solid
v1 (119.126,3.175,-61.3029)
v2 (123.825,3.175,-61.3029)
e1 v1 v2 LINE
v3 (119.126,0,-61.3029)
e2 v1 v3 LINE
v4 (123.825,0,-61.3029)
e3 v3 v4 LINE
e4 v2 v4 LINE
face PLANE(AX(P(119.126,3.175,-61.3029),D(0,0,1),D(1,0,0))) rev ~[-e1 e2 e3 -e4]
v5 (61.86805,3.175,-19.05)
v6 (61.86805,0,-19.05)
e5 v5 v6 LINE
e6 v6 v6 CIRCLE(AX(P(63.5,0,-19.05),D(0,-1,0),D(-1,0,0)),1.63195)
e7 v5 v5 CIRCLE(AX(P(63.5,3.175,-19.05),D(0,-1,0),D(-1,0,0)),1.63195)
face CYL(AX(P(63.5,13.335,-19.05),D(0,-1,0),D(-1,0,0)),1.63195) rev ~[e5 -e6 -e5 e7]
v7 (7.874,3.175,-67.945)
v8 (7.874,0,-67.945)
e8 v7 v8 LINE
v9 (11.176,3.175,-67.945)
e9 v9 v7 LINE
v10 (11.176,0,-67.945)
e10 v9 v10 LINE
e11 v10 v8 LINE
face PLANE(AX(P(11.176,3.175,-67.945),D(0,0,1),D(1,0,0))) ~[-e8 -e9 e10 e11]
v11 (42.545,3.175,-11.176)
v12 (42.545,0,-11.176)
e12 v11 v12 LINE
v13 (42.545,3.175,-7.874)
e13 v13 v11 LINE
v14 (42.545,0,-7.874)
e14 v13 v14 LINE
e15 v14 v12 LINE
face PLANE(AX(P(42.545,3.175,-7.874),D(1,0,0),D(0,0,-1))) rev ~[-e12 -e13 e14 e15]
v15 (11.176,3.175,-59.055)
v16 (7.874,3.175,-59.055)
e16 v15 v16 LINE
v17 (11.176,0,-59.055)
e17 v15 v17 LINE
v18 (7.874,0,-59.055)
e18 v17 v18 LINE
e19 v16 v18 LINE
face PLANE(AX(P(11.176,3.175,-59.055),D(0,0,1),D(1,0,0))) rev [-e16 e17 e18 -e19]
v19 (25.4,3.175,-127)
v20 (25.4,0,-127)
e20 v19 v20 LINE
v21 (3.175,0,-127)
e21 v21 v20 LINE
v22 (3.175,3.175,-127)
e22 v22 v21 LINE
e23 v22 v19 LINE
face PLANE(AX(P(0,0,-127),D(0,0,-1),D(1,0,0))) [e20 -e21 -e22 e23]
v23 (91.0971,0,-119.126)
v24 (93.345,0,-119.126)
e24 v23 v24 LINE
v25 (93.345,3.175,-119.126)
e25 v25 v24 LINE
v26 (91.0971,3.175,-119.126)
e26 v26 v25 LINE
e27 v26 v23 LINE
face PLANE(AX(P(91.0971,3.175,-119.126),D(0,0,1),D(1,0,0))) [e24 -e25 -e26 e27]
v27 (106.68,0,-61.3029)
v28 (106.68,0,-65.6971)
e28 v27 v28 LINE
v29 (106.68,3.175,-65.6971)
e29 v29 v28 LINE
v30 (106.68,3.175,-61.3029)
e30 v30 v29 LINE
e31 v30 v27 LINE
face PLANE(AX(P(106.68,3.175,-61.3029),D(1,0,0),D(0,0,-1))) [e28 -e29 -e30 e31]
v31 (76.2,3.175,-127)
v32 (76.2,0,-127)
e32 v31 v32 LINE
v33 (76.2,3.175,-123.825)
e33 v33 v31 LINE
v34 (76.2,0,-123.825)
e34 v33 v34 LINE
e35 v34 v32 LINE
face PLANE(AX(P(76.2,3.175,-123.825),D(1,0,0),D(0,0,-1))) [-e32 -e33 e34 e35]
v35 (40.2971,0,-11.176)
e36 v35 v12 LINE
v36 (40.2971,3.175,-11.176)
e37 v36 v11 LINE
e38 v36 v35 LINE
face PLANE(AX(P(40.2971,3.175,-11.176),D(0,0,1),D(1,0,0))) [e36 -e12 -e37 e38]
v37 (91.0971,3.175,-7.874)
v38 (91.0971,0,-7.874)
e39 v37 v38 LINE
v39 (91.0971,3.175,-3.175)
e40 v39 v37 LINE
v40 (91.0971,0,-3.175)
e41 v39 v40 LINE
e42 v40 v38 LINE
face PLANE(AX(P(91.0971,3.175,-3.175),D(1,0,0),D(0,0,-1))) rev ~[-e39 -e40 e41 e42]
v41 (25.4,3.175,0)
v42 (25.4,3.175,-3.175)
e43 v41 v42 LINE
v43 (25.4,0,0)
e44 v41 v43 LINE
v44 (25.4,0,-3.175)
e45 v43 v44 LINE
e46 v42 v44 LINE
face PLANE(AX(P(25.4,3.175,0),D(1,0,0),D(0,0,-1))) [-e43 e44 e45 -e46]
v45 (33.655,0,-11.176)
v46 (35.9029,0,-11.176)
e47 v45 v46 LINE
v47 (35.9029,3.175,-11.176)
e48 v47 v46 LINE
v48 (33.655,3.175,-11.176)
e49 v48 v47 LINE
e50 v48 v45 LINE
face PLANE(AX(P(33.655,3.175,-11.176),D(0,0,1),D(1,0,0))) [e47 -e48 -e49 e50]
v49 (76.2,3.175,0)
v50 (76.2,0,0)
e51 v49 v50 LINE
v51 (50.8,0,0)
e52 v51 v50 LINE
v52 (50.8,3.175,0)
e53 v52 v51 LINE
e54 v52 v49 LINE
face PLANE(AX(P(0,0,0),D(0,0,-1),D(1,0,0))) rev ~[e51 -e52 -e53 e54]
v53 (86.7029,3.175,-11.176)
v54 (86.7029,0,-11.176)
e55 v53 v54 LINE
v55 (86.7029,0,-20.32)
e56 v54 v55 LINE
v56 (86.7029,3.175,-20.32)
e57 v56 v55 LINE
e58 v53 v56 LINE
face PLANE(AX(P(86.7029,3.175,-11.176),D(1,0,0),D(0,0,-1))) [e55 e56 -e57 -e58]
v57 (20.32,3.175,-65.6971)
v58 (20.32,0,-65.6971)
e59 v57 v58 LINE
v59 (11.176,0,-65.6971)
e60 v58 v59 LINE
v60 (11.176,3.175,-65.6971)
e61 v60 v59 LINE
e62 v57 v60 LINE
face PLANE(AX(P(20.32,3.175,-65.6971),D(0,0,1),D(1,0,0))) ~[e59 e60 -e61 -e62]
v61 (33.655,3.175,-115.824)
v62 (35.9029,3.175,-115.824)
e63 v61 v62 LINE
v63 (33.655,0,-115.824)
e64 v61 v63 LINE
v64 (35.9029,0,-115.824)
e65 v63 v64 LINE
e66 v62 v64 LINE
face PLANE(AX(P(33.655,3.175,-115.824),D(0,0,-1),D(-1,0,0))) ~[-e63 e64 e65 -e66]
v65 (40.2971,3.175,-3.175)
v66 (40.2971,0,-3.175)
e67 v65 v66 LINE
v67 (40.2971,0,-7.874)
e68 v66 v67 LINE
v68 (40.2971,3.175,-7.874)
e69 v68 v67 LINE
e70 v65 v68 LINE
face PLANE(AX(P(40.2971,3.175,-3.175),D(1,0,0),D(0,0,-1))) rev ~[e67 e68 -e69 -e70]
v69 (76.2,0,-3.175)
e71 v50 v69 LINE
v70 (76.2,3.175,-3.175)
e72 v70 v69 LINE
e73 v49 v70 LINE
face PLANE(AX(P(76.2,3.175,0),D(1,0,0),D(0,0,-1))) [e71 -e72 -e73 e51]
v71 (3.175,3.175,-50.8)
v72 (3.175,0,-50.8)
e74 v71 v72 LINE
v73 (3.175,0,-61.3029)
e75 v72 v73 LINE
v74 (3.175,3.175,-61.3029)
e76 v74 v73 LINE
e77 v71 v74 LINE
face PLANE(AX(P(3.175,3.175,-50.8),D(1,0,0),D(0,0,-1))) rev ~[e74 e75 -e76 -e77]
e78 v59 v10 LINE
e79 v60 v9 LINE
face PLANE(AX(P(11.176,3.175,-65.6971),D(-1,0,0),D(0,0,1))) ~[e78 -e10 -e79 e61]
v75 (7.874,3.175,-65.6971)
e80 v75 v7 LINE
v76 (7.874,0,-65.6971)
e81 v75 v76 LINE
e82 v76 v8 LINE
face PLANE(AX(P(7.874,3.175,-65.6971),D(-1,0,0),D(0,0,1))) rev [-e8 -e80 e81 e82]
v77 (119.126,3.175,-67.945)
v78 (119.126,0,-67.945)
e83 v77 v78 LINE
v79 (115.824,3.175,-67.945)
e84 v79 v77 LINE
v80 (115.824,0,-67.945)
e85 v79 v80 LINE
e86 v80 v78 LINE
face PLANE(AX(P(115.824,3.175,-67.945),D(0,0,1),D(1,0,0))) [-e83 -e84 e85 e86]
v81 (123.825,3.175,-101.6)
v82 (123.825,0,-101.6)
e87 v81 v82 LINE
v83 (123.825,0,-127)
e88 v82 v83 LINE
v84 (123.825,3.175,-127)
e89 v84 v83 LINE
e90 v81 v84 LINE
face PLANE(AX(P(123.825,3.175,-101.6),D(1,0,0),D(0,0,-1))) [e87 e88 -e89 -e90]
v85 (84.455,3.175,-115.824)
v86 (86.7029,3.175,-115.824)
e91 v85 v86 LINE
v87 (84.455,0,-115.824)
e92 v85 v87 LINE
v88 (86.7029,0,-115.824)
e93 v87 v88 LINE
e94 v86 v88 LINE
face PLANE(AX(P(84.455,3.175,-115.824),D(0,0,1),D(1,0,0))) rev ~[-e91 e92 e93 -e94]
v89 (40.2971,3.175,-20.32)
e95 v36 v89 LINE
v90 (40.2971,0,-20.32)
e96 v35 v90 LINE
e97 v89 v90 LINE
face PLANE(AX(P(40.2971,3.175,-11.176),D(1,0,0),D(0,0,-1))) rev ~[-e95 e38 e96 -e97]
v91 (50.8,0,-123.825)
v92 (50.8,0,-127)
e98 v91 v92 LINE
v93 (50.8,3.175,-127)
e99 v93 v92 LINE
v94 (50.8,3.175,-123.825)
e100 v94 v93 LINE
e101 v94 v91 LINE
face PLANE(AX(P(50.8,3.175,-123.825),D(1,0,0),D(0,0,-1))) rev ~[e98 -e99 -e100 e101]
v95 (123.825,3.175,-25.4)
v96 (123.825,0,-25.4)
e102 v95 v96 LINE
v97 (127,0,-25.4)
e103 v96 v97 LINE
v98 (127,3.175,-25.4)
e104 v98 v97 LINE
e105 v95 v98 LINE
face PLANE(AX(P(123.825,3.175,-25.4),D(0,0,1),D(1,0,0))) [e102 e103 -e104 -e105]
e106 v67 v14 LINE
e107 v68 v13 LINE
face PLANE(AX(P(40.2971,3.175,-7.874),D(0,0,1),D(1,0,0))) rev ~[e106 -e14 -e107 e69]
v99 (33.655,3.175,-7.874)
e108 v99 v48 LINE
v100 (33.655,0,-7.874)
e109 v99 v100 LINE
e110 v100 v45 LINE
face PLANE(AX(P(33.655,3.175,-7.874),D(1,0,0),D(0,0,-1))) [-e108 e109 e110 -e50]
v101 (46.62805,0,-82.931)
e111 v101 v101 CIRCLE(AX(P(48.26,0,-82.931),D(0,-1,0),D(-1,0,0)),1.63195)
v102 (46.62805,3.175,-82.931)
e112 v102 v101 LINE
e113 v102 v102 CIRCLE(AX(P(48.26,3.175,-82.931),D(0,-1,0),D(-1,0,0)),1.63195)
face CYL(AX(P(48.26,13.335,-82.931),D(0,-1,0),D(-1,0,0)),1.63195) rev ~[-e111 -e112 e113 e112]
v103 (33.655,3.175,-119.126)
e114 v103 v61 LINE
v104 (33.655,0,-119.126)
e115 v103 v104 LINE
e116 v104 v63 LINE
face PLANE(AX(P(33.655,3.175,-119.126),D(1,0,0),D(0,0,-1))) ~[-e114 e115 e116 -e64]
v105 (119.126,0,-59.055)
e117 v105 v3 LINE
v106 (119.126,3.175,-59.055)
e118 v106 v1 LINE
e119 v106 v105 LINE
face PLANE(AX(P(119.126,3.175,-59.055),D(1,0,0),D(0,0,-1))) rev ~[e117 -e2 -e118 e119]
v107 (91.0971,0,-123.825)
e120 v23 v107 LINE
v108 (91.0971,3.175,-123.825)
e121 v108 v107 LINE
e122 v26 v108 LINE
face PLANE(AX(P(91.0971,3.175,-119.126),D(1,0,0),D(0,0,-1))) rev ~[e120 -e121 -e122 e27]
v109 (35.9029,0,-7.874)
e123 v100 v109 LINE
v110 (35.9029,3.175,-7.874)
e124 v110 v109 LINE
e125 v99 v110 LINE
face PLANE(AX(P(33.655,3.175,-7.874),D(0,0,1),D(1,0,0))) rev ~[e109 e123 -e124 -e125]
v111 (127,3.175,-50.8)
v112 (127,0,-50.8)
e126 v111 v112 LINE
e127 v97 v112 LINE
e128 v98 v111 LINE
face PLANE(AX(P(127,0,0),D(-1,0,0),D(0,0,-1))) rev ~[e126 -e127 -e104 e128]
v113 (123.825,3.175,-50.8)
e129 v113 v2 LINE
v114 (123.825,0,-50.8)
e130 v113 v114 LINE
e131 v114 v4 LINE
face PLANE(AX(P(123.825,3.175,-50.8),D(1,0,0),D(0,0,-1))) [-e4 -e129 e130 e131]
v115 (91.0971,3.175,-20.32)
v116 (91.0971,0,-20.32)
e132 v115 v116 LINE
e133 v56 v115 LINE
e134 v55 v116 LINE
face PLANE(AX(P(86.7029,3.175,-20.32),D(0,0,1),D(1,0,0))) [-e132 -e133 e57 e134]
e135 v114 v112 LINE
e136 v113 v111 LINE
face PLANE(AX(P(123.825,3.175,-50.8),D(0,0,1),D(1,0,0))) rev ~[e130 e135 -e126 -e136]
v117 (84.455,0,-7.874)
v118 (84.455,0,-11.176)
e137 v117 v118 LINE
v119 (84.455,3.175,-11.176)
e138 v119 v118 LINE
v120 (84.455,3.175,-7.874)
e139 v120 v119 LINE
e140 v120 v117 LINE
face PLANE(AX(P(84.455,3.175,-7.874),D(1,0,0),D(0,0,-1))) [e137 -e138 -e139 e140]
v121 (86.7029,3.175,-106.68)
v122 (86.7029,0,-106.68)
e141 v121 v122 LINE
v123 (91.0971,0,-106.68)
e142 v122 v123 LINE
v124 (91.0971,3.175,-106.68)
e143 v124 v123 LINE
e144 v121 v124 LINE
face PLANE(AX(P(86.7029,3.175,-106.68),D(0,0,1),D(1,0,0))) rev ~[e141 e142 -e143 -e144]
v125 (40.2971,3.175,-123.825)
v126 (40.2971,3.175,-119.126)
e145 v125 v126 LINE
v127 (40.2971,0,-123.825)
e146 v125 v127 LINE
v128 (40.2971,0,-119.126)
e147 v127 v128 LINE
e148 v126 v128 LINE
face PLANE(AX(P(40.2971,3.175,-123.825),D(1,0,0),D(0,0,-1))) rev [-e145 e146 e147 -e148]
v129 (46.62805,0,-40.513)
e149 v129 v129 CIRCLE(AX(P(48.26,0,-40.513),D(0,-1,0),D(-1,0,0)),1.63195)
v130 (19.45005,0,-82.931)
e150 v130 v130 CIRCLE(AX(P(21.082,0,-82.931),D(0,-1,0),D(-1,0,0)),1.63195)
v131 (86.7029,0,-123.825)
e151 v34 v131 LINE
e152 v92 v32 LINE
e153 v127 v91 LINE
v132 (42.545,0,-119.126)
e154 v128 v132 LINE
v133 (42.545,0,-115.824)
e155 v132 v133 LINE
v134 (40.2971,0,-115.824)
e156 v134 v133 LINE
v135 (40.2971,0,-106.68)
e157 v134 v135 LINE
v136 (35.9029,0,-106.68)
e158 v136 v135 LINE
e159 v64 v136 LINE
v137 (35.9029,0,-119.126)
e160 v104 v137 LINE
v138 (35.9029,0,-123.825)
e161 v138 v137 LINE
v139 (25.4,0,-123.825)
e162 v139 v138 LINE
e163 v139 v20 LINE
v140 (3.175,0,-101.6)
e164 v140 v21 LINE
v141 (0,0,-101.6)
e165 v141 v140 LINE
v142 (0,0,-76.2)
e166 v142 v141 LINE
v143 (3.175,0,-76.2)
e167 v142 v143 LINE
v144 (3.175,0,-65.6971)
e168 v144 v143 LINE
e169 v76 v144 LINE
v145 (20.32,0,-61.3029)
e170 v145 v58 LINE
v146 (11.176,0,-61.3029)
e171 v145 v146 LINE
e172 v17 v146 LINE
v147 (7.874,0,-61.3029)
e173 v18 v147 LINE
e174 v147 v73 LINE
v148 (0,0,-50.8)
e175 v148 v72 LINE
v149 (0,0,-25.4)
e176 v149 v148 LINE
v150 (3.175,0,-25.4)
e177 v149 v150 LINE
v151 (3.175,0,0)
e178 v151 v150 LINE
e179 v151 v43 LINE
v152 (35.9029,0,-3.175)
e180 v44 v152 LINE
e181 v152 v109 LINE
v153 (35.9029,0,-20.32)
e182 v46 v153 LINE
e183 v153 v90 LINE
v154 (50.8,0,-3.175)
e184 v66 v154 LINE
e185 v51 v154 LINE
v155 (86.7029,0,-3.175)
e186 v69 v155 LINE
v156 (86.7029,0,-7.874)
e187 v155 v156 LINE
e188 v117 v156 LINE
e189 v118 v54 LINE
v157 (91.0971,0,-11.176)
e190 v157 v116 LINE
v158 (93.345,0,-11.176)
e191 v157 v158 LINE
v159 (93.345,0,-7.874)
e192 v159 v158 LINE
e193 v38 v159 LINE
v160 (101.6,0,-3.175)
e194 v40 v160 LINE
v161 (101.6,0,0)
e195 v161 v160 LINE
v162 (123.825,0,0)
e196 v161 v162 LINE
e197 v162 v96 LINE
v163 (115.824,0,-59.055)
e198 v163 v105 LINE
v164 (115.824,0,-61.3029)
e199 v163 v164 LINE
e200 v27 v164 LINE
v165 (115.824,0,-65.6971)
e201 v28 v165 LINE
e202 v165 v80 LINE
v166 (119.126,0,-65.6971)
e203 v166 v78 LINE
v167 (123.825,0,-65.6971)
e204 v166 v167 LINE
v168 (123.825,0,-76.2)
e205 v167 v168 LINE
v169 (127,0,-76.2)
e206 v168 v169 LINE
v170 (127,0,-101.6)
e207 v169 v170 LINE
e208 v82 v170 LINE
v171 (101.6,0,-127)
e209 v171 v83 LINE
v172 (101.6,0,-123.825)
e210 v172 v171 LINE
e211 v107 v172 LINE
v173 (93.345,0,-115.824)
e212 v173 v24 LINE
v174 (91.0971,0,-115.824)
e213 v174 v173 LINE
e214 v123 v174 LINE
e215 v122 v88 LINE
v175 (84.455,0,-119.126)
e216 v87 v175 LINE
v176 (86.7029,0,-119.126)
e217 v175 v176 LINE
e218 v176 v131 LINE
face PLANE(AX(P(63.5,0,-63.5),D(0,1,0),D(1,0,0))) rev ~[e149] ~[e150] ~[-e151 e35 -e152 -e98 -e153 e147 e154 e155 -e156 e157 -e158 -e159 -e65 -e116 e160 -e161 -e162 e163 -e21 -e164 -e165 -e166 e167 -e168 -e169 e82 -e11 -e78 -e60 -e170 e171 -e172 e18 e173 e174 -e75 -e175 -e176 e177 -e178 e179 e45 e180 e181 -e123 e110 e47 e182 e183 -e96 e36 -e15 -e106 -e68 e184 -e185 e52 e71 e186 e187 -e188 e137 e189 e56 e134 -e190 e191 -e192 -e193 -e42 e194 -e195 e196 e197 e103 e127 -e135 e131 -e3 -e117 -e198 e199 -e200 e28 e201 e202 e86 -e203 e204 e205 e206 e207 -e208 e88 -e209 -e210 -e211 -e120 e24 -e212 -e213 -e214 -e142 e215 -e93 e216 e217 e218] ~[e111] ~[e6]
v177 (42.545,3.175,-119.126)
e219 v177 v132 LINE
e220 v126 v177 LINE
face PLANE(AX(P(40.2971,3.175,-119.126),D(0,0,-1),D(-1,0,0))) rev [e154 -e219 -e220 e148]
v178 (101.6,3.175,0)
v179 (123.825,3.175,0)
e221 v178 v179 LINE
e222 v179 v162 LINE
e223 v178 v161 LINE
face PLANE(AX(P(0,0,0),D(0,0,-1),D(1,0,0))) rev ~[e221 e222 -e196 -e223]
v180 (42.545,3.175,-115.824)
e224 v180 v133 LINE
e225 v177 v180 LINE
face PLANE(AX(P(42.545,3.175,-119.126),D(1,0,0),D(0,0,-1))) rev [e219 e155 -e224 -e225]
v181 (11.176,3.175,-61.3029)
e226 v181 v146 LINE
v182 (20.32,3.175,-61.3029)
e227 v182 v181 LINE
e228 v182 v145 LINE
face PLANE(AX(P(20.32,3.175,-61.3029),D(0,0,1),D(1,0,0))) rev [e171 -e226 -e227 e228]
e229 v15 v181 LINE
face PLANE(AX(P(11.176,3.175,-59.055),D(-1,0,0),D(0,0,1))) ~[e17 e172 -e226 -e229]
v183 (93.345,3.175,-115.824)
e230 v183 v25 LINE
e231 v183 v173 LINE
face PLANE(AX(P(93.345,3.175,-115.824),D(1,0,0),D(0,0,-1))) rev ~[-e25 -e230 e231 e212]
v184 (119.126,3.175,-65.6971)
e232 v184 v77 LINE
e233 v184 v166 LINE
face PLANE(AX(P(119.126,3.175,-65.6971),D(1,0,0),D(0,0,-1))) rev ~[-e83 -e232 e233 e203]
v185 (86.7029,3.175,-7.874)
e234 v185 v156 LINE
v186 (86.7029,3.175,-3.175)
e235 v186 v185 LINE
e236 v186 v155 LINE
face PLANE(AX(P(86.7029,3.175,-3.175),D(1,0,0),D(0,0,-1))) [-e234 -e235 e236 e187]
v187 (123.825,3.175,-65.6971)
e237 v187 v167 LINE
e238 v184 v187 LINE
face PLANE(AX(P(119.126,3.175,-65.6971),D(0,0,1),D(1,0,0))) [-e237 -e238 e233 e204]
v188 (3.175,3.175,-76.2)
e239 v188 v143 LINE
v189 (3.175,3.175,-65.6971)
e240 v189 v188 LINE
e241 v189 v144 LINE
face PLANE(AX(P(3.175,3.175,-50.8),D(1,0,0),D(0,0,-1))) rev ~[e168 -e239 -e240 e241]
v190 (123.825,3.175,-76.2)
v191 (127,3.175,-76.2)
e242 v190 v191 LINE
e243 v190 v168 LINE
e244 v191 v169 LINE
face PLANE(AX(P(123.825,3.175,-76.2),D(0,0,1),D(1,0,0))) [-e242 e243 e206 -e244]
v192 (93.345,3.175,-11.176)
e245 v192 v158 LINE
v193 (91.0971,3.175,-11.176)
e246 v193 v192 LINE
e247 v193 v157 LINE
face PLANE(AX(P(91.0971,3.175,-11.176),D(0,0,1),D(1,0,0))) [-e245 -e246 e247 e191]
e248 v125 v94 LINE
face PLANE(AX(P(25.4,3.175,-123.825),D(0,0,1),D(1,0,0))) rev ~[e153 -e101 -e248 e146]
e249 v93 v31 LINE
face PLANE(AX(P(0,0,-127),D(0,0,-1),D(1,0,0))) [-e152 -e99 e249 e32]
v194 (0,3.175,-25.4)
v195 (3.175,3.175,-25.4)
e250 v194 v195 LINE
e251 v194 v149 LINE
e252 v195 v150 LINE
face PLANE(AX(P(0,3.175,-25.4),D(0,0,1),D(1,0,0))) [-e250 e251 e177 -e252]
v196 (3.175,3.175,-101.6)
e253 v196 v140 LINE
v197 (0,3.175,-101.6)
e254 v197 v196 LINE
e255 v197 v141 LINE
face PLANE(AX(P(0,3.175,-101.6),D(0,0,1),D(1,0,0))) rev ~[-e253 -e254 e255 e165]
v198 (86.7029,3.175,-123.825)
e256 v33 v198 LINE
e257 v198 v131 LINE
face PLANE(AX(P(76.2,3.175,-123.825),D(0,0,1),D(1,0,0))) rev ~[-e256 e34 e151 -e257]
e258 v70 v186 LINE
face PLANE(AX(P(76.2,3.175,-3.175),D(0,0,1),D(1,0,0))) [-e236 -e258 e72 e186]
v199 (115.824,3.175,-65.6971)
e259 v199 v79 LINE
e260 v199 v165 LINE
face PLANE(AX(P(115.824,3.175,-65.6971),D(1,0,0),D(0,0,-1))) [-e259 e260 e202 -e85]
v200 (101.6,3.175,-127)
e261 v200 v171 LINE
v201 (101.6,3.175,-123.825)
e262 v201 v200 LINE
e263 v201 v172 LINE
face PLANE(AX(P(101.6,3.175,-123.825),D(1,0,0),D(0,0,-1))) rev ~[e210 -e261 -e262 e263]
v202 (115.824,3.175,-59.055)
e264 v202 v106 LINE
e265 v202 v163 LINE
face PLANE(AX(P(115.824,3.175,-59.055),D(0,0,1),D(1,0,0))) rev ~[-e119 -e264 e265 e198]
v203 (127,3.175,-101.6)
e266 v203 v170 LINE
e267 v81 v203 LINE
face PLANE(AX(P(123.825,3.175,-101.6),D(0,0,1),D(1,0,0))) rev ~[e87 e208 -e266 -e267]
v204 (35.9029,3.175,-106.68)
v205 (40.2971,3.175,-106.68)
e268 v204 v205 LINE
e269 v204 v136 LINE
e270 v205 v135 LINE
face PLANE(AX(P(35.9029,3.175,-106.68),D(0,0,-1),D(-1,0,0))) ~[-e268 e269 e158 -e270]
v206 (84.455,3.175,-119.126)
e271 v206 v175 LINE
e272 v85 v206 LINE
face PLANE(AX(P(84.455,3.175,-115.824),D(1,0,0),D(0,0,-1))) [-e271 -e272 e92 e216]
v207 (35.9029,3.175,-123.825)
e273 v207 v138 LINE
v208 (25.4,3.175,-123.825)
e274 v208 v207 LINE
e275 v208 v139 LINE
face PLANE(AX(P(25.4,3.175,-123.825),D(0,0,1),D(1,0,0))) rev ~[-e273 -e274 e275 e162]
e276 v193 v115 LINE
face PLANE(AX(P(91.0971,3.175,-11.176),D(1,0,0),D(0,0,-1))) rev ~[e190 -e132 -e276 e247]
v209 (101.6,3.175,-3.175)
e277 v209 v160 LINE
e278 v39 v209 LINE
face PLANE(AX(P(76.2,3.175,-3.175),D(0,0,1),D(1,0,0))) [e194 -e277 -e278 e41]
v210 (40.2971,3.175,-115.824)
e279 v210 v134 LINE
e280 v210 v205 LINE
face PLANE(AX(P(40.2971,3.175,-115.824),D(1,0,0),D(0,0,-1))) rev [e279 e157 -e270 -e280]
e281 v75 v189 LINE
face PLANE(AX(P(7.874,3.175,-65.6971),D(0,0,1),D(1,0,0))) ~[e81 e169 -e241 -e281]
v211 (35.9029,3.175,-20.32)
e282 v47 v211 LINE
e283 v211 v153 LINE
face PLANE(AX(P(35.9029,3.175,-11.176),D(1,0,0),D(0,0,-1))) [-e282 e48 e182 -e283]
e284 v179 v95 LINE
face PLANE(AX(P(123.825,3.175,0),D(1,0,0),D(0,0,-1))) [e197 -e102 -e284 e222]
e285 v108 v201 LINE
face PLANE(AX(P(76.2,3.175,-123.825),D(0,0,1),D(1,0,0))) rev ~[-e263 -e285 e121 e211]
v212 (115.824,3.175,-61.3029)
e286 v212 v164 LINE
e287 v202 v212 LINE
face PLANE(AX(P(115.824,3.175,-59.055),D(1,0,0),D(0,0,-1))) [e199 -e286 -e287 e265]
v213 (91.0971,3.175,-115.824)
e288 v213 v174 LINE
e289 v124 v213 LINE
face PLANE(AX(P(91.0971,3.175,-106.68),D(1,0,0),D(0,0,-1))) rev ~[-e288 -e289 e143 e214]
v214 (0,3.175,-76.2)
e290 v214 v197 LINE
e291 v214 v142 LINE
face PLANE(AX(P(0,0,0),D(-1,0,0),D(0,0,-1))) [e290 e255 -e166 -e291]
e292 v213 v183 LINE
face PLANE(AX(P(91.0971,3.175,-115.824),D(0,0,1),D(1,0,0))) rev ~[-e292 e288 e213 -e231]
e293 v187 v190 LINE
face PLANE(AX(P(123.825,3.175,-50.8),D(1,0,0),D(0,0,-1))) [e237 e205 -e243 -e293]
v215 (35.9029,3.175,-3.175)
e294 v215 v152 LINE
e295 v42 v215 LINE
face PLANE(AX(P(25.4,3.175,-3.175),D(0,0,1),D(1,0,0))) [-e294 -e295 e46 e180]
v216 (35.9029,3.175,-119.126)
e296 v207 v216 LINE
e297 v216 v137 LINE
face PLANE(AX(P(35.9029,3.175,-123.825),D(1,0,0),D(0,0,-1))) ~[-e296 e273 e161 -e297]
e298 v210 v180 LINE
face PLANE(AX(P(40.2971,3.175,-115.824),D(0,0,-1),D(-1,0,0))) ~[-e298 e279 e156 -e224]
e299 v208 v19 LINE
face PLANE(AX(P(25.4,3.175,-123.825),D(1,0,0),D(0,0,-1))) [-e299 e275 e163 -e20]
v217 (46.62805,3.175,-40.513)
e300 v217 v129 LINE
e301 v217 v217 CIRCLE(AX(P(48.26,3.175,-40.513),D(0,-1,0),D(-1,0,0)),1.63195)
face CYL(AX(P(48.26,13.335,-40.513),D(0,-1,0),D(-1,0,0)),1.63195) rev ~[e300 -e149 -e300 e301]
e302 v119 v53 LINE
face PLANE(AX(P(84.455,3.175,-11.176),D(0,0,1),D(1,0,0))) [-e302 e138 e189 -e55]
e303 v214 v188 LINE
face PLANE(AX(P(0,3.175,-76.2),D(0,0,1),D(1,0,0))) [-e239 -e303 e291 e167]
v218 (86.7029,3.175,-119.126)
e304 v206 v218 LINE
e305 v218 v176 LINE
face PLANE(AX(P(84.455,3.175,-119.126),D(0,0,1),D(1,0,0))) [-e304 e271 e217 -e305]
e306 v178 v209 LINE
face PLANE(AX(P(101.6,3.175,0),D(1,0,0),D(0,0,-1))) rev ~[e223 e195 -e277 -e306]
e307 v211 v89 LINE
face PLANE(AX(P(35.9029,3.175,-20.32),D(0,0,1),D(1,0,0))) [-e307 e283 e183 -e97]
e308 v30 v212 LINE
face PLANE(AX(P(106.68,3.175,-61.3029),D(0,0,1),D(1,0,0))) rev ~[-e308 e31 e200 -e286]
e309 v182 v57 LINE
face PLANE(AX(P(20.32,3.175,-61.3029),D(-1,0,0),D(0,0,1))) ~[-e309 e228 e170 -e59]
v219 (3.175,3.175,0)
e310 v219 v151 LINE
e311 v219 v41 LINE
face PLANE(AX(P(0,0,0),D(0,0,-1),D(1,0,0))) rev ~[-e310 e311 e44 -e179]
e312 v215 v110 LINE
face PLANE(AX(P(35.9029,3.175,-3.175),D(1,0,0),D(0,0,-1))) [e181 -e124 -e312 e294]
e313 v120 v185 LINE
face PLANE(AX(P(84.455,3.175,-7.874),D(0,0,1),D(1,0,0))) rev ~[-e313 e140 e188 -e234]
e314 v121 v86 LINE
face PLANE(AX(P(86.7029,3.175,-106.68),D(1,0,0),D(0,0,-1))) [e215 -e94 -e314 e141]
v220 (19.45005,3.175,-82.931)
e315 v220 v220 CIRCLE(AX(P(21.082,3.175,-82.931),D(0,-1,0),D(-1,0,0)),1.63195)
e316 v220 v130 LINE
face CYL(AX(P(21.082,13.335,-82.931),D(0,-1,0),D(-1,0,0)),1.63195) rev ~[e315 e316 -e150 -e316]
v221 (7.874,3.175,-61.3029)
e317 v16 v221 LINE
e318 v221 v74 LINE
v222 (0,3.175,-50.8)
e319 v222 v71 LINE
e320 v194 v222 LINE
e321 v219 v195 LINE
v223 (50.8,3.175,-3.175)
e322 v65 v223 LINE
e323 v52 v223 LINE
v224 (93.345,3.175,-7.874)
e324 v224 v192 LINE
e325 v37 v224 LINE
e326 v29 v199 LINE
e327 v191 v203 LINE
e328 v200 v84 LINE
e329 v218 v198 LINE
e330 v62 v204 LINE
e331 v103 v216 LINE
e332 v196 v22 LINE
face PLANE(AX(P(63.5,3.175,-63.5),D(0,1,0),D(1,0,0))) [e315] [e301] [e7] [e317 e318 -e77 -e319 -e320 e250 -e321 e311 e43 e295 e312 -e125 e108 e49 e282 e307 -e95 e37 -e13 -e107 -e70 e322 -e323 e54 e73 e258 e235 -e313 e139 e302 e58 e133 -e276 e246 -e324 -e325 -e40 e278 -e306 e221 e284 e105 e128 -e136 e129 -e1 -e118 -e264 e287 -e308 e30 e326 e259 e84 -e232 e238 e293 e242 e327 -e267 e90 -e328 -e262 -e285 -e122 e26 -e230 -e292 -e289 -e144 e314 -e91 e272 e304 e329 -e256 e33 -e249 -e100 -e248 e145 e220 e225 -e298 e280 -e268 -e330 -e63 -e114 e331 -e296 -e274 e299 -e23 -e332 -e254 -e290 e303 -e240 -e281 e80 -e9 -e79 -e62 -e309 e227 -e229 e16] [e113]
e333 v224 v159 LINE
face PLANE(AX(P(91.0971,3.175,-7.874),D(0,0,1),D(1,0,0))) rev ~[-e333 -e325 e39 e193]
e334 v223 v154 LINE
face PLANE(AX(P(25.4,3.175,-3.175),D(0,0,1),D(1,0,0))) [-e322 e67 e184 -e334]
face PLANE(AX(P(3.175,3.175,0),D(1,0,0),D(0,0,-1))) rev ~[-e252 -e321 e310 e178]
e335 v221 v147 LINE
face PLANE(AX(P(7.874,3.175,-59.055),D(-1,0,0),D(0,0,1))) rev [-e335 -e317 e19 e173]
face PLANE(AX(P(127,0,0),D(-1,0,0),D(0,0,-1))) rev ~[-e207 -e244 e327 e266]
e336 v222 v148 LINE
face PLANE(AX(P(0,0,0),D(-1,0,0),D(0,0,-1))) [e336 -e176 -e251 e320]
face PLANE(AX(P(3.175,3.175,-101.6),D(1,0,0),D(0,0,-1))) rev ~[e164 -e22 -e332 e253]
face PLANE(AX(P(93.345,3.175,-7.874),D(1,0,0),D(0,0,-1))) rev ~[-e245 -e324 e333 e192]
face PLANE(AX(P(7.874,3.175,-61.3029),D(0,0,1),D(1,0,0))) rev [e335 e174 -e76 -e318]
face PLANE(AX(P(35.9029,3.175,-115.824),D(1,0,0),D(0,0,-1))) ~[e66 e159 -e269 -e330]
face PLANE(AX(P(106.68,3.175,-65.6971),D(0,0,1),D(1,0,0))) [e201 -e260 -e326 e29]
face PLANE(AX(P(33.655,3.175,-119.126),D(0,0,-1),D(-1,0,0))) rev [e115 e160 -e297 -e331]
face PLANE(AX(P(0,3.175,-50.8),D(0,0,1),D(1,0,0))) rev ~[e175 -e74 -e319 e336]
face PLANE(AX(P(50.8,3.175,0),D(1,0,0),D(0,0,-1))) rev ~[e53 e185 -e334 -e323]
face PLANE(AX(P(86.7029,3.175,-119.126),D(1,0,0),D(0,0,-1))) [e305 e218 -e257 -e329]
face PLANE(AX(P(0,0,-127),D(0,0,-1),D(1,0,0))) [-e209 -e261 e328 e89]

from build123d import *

# Parameters (mm, degrees)
SKETCH1_W                 = 127
SKETCH1_H                 = 127
BOSS_EXTRUDE1_DEPTH       = 3.175
SKETCH2_W                 = 3.175
SKETCH2_H                 = 25.4
CUT_EXTRUDE1_DEPTH        = 6.35
LPATTERN1_COUNT           = 3
LPATTERN1_PITCH           = 50.8
LPATTERN1_COUNT_DIR2      = 2
LPATTERN1_PITCH_DIR2      = 123.825
SKETCH3_W                 = 25.4
SKETCH3_H                 = 3.175
CUT_EXTRUDE2_DEPTH        = 6.35
LPATTERN2_COUNT           = 3
LPATTERN2_PITCH           = 50.8
LPATTERN2_COUNT_DIR2      = 2
LPATTERN2_PITCH_DIR2      = 123.825
SKETCH4_W                 = 17.145
SKETCH4_H                 = 4.3942
SKETCH4_W_2               = 3.302
SKETCH4_H_2               = 8.89
CUT_EXTRUDE3_DEPTH        = 8.89
SKETCH5_W                 = 4.3942
SKETCH5_H                 = 17.145
SKETCH5_W_2               = 8.89
SKETCH5_H_2               = 3.302
CUT_EXTRUDE4_DEPTH        = 30.48
LPATTERN3_COUNT           = 2
LPATTERN3_PITCH           = 50.8
MIRROR2_COPY_1_SKETCH_W   = 4.3942
MIRROR2_COPY_1_SKETCH_H   = 17.145
MIRROR2_COPY_1_SKETCH_W_2 = 8.89
MIRROR2_COPY_1_SKETCH_H_2 = 3.302
MIRROR2_COPY_1_DEPTH      = 30.48
F_4_CLEARANCE_HOLE3_D     = 3.2639
F_4_CLEARANCE_HOLE3_DEPTH = 10.16
F_4_CLEARANCE_HOLE3_TIP   = 0.980574487
F_4_CLEARANCE_HOLE4_D     = 3.2639
F_4_CLEARANCE_HOLE4_DEPTH = 10.16
F_4_CLEARANCE_HOLE4_TIP   = 0.980574487


with BuildPart() as part:
    # Sketch1 → Boss-Extrude1 (new body)
    with BuildSketch(Plane(origin=(0, 0, 0), x_dir=(1, 0, 0), z_dir=(0, 1, 0))):
        with Locations((63.5, 63.5)):
            Rectangle(SKETCH1_W, SKETCH1_H)
    extrude(amount=BOSS_EXTRUDE1_DEPTH)

    # Sketch2 → Cut-Extrude1 (cut)
    with BuildSketch(Plane(origin=(0, 3.175, 0), x_dir=(1, 0, 0), z_dir=(0, 1, 0))):
        with Locations((1.5875, 114.3)):
            Rectangle(SKETCH2_W, SKETCH2_H)
    cut_extrude1 = extrude(amount=-CUT_EXTRUDE1_DEPTH, mode=Mode.SUBTRACT)

    # LPattern1: Cut-Extrude1 3 × 2
    with Locations(*[(j * LPATTERN1_PITCH_DIR2, 0, i * LPATTERN1_PITCH) for i in range(LPATTERN1_COUNT) for j in range(LPATTERN1_COUNT_DIR2) if (i, j) != (0, 0)]):
        add(cut_extrude1, mode=Mode.SUBTRACT)

    # Sketch3 → Cut-Extrude2 (cut)
    with BuildSketch(Plane(origin=(0, 3.175, 0), x_dir=(1, 0, 0), z_dir=(0, 1, 0))):
        with Locations((38.1, 1.5875)):
            Rectangle(SKETCH3_W, SKETCH3_H)
    cut_extrude2 = extrude(amount=-CUT_EXTRUDE2_DEPTH, mode=Mode.SUBTRACT)

    # LPattern2: Cut-Extrude2 3 × 2
    with Locations(*[(i * LPATTERN2_PITCH, 0, -j * LPATTERN2_PITCH_DIR2) for i in range(LPATTERN2_COUNT) for j in range(LPATTERN2_COUNT_DIR2) if (i, j) != (0, 0)]):
        add(cut_extrude2, mode=Mode.SUBTRACT)

    # Sketch4 → Cut-Extrude3 (cut)
    with BuildSketch(Plane(origin=(0, 3.175, 0), x_dir=(1, 0, 0), z_dir=(0, 1, 0))):
        with Locations((115.2525, 63.5)):
            Rectangle(SKETCH4_W, SKETCH4_H)
        with Locations((117.475, 63.5)):
            Rectangle(SKETCH4_W_2, SKETCH4_H_2)
    cut_extrude3 = extrude(amount=-CUT_EXTRUDE3_DEPTH, mode=Mode.SUBTRACT)

    # Sketch5 → Cut-Extrude4 (cut)
    with BuildSketch(Plane(origin=(0, 3.175, 0), x_dir=(1, 0, 0), z_dir=(0, 1, 0))):
        with Locations((38.1, 11.7475)):
            Rectangle(SKETCH5_W, SKETCH5_H)
        with Locations((38.1, 9.525)):
            Rectangle(SKETCH5_W_2, SKETCH5_H_2)
    cut_extrude4 = extrude(amount=-CUT_EXTRUDE4_DEPTH, mode=Mode.SUBTRACT)

    # LPattern3: Cut-Extrude4 ×2
    with Locations(*[(i * LPATTERN3_PITCH, 0, 0) for i in range(1, LPATTERN3_COUNT)]):
        add(cut_extrude4, mode=Mode.SUBTRACT)

    # Mirror2: Cut-Extrude4 across plane
    add(cut_extrude4.mirror(Plane.XY.offset(-63.5)), mode=Mode.SUBTRACT)

    # Mirror2 copy 1 sketch → Mirror2 copy 1 (cut)
    with BuildSketch(Plane(origin=(50.8, 3.175, -127), x_dir=(1, 0, 0), z_dir=(0, 1, 0))):
        with Locations((38.1, -11.7475)):
            Rectangle(MIRROR2_COPY_1_SKETCH_W, MIRROR2_COPY_1_SKETCH_H)
        with Locations((38.1, -9.525)):
            Rectangle(MIRROR2_COPY_1_SKETCH_W_2, MIRROR2_COPY_1_SKETCH_H_2)
    extrude(amount=-MIRROR2_COPY_1_DEPTH, mode=Mode.SUBTRACT)

    # #4 Clearance Hole3
    with Locations(Plane(origin=(0, 3.175, 0), x_dir=(1, 0, 0), z_dir=(0, 1, 0))):
        with Locations((21.082, 82.931), (48.26, 82.931), (48.26, 40.513)):
            Hole(F_4_CLEARANCE_HOLE3_D / 2, depth=F_4_CLEARANCE_HOLE3_DEPTH)
            with Locations((0, 0, -(F_4_CLEARANCE_HOLE3_DEPTH + F_4_CLEARANCE_HOLE3_TIP / 2))):  # 118° drill point
                Cone(0, F_4_CLEARANCE_HOLE3_D / 2, F_4_CLEARANCE_HOLE3_TIP, mode=Mode.SUBTRACT)

    # #4 Clearance Hole4
    with Locations(Plane(origin=(0, 3.175, 0), x_dir=(1, 0, 0), z_dir=(0, 1, 0))):
        with Locations((63.5, 19.05)):
            Hole(F_4_CLEARANCE_HOLE4_D / 2, depth=F_4_CLEARANCE_HOLE4_DEPTH)
            with Locations((0, 0, -(F_4_CLEARANCE_HOLE4_DEPTH + F_4_CLEARANCE_HOLE4_TIP / 2))):  # 118° drill point
                Cone(0, F_4_CLEARANCE_HOLE4_D / 2, F_4_CLEARANCE_HOLE4_TIP, mode=Mode.SUBTRACT)

    # Mirror3: Cut-Extrude3 across plane
    add(cut_extrude3.mirror(Plane.ZY.offset(-63.5)), mode=Mode.SUBTRACT)


solid = part.part
